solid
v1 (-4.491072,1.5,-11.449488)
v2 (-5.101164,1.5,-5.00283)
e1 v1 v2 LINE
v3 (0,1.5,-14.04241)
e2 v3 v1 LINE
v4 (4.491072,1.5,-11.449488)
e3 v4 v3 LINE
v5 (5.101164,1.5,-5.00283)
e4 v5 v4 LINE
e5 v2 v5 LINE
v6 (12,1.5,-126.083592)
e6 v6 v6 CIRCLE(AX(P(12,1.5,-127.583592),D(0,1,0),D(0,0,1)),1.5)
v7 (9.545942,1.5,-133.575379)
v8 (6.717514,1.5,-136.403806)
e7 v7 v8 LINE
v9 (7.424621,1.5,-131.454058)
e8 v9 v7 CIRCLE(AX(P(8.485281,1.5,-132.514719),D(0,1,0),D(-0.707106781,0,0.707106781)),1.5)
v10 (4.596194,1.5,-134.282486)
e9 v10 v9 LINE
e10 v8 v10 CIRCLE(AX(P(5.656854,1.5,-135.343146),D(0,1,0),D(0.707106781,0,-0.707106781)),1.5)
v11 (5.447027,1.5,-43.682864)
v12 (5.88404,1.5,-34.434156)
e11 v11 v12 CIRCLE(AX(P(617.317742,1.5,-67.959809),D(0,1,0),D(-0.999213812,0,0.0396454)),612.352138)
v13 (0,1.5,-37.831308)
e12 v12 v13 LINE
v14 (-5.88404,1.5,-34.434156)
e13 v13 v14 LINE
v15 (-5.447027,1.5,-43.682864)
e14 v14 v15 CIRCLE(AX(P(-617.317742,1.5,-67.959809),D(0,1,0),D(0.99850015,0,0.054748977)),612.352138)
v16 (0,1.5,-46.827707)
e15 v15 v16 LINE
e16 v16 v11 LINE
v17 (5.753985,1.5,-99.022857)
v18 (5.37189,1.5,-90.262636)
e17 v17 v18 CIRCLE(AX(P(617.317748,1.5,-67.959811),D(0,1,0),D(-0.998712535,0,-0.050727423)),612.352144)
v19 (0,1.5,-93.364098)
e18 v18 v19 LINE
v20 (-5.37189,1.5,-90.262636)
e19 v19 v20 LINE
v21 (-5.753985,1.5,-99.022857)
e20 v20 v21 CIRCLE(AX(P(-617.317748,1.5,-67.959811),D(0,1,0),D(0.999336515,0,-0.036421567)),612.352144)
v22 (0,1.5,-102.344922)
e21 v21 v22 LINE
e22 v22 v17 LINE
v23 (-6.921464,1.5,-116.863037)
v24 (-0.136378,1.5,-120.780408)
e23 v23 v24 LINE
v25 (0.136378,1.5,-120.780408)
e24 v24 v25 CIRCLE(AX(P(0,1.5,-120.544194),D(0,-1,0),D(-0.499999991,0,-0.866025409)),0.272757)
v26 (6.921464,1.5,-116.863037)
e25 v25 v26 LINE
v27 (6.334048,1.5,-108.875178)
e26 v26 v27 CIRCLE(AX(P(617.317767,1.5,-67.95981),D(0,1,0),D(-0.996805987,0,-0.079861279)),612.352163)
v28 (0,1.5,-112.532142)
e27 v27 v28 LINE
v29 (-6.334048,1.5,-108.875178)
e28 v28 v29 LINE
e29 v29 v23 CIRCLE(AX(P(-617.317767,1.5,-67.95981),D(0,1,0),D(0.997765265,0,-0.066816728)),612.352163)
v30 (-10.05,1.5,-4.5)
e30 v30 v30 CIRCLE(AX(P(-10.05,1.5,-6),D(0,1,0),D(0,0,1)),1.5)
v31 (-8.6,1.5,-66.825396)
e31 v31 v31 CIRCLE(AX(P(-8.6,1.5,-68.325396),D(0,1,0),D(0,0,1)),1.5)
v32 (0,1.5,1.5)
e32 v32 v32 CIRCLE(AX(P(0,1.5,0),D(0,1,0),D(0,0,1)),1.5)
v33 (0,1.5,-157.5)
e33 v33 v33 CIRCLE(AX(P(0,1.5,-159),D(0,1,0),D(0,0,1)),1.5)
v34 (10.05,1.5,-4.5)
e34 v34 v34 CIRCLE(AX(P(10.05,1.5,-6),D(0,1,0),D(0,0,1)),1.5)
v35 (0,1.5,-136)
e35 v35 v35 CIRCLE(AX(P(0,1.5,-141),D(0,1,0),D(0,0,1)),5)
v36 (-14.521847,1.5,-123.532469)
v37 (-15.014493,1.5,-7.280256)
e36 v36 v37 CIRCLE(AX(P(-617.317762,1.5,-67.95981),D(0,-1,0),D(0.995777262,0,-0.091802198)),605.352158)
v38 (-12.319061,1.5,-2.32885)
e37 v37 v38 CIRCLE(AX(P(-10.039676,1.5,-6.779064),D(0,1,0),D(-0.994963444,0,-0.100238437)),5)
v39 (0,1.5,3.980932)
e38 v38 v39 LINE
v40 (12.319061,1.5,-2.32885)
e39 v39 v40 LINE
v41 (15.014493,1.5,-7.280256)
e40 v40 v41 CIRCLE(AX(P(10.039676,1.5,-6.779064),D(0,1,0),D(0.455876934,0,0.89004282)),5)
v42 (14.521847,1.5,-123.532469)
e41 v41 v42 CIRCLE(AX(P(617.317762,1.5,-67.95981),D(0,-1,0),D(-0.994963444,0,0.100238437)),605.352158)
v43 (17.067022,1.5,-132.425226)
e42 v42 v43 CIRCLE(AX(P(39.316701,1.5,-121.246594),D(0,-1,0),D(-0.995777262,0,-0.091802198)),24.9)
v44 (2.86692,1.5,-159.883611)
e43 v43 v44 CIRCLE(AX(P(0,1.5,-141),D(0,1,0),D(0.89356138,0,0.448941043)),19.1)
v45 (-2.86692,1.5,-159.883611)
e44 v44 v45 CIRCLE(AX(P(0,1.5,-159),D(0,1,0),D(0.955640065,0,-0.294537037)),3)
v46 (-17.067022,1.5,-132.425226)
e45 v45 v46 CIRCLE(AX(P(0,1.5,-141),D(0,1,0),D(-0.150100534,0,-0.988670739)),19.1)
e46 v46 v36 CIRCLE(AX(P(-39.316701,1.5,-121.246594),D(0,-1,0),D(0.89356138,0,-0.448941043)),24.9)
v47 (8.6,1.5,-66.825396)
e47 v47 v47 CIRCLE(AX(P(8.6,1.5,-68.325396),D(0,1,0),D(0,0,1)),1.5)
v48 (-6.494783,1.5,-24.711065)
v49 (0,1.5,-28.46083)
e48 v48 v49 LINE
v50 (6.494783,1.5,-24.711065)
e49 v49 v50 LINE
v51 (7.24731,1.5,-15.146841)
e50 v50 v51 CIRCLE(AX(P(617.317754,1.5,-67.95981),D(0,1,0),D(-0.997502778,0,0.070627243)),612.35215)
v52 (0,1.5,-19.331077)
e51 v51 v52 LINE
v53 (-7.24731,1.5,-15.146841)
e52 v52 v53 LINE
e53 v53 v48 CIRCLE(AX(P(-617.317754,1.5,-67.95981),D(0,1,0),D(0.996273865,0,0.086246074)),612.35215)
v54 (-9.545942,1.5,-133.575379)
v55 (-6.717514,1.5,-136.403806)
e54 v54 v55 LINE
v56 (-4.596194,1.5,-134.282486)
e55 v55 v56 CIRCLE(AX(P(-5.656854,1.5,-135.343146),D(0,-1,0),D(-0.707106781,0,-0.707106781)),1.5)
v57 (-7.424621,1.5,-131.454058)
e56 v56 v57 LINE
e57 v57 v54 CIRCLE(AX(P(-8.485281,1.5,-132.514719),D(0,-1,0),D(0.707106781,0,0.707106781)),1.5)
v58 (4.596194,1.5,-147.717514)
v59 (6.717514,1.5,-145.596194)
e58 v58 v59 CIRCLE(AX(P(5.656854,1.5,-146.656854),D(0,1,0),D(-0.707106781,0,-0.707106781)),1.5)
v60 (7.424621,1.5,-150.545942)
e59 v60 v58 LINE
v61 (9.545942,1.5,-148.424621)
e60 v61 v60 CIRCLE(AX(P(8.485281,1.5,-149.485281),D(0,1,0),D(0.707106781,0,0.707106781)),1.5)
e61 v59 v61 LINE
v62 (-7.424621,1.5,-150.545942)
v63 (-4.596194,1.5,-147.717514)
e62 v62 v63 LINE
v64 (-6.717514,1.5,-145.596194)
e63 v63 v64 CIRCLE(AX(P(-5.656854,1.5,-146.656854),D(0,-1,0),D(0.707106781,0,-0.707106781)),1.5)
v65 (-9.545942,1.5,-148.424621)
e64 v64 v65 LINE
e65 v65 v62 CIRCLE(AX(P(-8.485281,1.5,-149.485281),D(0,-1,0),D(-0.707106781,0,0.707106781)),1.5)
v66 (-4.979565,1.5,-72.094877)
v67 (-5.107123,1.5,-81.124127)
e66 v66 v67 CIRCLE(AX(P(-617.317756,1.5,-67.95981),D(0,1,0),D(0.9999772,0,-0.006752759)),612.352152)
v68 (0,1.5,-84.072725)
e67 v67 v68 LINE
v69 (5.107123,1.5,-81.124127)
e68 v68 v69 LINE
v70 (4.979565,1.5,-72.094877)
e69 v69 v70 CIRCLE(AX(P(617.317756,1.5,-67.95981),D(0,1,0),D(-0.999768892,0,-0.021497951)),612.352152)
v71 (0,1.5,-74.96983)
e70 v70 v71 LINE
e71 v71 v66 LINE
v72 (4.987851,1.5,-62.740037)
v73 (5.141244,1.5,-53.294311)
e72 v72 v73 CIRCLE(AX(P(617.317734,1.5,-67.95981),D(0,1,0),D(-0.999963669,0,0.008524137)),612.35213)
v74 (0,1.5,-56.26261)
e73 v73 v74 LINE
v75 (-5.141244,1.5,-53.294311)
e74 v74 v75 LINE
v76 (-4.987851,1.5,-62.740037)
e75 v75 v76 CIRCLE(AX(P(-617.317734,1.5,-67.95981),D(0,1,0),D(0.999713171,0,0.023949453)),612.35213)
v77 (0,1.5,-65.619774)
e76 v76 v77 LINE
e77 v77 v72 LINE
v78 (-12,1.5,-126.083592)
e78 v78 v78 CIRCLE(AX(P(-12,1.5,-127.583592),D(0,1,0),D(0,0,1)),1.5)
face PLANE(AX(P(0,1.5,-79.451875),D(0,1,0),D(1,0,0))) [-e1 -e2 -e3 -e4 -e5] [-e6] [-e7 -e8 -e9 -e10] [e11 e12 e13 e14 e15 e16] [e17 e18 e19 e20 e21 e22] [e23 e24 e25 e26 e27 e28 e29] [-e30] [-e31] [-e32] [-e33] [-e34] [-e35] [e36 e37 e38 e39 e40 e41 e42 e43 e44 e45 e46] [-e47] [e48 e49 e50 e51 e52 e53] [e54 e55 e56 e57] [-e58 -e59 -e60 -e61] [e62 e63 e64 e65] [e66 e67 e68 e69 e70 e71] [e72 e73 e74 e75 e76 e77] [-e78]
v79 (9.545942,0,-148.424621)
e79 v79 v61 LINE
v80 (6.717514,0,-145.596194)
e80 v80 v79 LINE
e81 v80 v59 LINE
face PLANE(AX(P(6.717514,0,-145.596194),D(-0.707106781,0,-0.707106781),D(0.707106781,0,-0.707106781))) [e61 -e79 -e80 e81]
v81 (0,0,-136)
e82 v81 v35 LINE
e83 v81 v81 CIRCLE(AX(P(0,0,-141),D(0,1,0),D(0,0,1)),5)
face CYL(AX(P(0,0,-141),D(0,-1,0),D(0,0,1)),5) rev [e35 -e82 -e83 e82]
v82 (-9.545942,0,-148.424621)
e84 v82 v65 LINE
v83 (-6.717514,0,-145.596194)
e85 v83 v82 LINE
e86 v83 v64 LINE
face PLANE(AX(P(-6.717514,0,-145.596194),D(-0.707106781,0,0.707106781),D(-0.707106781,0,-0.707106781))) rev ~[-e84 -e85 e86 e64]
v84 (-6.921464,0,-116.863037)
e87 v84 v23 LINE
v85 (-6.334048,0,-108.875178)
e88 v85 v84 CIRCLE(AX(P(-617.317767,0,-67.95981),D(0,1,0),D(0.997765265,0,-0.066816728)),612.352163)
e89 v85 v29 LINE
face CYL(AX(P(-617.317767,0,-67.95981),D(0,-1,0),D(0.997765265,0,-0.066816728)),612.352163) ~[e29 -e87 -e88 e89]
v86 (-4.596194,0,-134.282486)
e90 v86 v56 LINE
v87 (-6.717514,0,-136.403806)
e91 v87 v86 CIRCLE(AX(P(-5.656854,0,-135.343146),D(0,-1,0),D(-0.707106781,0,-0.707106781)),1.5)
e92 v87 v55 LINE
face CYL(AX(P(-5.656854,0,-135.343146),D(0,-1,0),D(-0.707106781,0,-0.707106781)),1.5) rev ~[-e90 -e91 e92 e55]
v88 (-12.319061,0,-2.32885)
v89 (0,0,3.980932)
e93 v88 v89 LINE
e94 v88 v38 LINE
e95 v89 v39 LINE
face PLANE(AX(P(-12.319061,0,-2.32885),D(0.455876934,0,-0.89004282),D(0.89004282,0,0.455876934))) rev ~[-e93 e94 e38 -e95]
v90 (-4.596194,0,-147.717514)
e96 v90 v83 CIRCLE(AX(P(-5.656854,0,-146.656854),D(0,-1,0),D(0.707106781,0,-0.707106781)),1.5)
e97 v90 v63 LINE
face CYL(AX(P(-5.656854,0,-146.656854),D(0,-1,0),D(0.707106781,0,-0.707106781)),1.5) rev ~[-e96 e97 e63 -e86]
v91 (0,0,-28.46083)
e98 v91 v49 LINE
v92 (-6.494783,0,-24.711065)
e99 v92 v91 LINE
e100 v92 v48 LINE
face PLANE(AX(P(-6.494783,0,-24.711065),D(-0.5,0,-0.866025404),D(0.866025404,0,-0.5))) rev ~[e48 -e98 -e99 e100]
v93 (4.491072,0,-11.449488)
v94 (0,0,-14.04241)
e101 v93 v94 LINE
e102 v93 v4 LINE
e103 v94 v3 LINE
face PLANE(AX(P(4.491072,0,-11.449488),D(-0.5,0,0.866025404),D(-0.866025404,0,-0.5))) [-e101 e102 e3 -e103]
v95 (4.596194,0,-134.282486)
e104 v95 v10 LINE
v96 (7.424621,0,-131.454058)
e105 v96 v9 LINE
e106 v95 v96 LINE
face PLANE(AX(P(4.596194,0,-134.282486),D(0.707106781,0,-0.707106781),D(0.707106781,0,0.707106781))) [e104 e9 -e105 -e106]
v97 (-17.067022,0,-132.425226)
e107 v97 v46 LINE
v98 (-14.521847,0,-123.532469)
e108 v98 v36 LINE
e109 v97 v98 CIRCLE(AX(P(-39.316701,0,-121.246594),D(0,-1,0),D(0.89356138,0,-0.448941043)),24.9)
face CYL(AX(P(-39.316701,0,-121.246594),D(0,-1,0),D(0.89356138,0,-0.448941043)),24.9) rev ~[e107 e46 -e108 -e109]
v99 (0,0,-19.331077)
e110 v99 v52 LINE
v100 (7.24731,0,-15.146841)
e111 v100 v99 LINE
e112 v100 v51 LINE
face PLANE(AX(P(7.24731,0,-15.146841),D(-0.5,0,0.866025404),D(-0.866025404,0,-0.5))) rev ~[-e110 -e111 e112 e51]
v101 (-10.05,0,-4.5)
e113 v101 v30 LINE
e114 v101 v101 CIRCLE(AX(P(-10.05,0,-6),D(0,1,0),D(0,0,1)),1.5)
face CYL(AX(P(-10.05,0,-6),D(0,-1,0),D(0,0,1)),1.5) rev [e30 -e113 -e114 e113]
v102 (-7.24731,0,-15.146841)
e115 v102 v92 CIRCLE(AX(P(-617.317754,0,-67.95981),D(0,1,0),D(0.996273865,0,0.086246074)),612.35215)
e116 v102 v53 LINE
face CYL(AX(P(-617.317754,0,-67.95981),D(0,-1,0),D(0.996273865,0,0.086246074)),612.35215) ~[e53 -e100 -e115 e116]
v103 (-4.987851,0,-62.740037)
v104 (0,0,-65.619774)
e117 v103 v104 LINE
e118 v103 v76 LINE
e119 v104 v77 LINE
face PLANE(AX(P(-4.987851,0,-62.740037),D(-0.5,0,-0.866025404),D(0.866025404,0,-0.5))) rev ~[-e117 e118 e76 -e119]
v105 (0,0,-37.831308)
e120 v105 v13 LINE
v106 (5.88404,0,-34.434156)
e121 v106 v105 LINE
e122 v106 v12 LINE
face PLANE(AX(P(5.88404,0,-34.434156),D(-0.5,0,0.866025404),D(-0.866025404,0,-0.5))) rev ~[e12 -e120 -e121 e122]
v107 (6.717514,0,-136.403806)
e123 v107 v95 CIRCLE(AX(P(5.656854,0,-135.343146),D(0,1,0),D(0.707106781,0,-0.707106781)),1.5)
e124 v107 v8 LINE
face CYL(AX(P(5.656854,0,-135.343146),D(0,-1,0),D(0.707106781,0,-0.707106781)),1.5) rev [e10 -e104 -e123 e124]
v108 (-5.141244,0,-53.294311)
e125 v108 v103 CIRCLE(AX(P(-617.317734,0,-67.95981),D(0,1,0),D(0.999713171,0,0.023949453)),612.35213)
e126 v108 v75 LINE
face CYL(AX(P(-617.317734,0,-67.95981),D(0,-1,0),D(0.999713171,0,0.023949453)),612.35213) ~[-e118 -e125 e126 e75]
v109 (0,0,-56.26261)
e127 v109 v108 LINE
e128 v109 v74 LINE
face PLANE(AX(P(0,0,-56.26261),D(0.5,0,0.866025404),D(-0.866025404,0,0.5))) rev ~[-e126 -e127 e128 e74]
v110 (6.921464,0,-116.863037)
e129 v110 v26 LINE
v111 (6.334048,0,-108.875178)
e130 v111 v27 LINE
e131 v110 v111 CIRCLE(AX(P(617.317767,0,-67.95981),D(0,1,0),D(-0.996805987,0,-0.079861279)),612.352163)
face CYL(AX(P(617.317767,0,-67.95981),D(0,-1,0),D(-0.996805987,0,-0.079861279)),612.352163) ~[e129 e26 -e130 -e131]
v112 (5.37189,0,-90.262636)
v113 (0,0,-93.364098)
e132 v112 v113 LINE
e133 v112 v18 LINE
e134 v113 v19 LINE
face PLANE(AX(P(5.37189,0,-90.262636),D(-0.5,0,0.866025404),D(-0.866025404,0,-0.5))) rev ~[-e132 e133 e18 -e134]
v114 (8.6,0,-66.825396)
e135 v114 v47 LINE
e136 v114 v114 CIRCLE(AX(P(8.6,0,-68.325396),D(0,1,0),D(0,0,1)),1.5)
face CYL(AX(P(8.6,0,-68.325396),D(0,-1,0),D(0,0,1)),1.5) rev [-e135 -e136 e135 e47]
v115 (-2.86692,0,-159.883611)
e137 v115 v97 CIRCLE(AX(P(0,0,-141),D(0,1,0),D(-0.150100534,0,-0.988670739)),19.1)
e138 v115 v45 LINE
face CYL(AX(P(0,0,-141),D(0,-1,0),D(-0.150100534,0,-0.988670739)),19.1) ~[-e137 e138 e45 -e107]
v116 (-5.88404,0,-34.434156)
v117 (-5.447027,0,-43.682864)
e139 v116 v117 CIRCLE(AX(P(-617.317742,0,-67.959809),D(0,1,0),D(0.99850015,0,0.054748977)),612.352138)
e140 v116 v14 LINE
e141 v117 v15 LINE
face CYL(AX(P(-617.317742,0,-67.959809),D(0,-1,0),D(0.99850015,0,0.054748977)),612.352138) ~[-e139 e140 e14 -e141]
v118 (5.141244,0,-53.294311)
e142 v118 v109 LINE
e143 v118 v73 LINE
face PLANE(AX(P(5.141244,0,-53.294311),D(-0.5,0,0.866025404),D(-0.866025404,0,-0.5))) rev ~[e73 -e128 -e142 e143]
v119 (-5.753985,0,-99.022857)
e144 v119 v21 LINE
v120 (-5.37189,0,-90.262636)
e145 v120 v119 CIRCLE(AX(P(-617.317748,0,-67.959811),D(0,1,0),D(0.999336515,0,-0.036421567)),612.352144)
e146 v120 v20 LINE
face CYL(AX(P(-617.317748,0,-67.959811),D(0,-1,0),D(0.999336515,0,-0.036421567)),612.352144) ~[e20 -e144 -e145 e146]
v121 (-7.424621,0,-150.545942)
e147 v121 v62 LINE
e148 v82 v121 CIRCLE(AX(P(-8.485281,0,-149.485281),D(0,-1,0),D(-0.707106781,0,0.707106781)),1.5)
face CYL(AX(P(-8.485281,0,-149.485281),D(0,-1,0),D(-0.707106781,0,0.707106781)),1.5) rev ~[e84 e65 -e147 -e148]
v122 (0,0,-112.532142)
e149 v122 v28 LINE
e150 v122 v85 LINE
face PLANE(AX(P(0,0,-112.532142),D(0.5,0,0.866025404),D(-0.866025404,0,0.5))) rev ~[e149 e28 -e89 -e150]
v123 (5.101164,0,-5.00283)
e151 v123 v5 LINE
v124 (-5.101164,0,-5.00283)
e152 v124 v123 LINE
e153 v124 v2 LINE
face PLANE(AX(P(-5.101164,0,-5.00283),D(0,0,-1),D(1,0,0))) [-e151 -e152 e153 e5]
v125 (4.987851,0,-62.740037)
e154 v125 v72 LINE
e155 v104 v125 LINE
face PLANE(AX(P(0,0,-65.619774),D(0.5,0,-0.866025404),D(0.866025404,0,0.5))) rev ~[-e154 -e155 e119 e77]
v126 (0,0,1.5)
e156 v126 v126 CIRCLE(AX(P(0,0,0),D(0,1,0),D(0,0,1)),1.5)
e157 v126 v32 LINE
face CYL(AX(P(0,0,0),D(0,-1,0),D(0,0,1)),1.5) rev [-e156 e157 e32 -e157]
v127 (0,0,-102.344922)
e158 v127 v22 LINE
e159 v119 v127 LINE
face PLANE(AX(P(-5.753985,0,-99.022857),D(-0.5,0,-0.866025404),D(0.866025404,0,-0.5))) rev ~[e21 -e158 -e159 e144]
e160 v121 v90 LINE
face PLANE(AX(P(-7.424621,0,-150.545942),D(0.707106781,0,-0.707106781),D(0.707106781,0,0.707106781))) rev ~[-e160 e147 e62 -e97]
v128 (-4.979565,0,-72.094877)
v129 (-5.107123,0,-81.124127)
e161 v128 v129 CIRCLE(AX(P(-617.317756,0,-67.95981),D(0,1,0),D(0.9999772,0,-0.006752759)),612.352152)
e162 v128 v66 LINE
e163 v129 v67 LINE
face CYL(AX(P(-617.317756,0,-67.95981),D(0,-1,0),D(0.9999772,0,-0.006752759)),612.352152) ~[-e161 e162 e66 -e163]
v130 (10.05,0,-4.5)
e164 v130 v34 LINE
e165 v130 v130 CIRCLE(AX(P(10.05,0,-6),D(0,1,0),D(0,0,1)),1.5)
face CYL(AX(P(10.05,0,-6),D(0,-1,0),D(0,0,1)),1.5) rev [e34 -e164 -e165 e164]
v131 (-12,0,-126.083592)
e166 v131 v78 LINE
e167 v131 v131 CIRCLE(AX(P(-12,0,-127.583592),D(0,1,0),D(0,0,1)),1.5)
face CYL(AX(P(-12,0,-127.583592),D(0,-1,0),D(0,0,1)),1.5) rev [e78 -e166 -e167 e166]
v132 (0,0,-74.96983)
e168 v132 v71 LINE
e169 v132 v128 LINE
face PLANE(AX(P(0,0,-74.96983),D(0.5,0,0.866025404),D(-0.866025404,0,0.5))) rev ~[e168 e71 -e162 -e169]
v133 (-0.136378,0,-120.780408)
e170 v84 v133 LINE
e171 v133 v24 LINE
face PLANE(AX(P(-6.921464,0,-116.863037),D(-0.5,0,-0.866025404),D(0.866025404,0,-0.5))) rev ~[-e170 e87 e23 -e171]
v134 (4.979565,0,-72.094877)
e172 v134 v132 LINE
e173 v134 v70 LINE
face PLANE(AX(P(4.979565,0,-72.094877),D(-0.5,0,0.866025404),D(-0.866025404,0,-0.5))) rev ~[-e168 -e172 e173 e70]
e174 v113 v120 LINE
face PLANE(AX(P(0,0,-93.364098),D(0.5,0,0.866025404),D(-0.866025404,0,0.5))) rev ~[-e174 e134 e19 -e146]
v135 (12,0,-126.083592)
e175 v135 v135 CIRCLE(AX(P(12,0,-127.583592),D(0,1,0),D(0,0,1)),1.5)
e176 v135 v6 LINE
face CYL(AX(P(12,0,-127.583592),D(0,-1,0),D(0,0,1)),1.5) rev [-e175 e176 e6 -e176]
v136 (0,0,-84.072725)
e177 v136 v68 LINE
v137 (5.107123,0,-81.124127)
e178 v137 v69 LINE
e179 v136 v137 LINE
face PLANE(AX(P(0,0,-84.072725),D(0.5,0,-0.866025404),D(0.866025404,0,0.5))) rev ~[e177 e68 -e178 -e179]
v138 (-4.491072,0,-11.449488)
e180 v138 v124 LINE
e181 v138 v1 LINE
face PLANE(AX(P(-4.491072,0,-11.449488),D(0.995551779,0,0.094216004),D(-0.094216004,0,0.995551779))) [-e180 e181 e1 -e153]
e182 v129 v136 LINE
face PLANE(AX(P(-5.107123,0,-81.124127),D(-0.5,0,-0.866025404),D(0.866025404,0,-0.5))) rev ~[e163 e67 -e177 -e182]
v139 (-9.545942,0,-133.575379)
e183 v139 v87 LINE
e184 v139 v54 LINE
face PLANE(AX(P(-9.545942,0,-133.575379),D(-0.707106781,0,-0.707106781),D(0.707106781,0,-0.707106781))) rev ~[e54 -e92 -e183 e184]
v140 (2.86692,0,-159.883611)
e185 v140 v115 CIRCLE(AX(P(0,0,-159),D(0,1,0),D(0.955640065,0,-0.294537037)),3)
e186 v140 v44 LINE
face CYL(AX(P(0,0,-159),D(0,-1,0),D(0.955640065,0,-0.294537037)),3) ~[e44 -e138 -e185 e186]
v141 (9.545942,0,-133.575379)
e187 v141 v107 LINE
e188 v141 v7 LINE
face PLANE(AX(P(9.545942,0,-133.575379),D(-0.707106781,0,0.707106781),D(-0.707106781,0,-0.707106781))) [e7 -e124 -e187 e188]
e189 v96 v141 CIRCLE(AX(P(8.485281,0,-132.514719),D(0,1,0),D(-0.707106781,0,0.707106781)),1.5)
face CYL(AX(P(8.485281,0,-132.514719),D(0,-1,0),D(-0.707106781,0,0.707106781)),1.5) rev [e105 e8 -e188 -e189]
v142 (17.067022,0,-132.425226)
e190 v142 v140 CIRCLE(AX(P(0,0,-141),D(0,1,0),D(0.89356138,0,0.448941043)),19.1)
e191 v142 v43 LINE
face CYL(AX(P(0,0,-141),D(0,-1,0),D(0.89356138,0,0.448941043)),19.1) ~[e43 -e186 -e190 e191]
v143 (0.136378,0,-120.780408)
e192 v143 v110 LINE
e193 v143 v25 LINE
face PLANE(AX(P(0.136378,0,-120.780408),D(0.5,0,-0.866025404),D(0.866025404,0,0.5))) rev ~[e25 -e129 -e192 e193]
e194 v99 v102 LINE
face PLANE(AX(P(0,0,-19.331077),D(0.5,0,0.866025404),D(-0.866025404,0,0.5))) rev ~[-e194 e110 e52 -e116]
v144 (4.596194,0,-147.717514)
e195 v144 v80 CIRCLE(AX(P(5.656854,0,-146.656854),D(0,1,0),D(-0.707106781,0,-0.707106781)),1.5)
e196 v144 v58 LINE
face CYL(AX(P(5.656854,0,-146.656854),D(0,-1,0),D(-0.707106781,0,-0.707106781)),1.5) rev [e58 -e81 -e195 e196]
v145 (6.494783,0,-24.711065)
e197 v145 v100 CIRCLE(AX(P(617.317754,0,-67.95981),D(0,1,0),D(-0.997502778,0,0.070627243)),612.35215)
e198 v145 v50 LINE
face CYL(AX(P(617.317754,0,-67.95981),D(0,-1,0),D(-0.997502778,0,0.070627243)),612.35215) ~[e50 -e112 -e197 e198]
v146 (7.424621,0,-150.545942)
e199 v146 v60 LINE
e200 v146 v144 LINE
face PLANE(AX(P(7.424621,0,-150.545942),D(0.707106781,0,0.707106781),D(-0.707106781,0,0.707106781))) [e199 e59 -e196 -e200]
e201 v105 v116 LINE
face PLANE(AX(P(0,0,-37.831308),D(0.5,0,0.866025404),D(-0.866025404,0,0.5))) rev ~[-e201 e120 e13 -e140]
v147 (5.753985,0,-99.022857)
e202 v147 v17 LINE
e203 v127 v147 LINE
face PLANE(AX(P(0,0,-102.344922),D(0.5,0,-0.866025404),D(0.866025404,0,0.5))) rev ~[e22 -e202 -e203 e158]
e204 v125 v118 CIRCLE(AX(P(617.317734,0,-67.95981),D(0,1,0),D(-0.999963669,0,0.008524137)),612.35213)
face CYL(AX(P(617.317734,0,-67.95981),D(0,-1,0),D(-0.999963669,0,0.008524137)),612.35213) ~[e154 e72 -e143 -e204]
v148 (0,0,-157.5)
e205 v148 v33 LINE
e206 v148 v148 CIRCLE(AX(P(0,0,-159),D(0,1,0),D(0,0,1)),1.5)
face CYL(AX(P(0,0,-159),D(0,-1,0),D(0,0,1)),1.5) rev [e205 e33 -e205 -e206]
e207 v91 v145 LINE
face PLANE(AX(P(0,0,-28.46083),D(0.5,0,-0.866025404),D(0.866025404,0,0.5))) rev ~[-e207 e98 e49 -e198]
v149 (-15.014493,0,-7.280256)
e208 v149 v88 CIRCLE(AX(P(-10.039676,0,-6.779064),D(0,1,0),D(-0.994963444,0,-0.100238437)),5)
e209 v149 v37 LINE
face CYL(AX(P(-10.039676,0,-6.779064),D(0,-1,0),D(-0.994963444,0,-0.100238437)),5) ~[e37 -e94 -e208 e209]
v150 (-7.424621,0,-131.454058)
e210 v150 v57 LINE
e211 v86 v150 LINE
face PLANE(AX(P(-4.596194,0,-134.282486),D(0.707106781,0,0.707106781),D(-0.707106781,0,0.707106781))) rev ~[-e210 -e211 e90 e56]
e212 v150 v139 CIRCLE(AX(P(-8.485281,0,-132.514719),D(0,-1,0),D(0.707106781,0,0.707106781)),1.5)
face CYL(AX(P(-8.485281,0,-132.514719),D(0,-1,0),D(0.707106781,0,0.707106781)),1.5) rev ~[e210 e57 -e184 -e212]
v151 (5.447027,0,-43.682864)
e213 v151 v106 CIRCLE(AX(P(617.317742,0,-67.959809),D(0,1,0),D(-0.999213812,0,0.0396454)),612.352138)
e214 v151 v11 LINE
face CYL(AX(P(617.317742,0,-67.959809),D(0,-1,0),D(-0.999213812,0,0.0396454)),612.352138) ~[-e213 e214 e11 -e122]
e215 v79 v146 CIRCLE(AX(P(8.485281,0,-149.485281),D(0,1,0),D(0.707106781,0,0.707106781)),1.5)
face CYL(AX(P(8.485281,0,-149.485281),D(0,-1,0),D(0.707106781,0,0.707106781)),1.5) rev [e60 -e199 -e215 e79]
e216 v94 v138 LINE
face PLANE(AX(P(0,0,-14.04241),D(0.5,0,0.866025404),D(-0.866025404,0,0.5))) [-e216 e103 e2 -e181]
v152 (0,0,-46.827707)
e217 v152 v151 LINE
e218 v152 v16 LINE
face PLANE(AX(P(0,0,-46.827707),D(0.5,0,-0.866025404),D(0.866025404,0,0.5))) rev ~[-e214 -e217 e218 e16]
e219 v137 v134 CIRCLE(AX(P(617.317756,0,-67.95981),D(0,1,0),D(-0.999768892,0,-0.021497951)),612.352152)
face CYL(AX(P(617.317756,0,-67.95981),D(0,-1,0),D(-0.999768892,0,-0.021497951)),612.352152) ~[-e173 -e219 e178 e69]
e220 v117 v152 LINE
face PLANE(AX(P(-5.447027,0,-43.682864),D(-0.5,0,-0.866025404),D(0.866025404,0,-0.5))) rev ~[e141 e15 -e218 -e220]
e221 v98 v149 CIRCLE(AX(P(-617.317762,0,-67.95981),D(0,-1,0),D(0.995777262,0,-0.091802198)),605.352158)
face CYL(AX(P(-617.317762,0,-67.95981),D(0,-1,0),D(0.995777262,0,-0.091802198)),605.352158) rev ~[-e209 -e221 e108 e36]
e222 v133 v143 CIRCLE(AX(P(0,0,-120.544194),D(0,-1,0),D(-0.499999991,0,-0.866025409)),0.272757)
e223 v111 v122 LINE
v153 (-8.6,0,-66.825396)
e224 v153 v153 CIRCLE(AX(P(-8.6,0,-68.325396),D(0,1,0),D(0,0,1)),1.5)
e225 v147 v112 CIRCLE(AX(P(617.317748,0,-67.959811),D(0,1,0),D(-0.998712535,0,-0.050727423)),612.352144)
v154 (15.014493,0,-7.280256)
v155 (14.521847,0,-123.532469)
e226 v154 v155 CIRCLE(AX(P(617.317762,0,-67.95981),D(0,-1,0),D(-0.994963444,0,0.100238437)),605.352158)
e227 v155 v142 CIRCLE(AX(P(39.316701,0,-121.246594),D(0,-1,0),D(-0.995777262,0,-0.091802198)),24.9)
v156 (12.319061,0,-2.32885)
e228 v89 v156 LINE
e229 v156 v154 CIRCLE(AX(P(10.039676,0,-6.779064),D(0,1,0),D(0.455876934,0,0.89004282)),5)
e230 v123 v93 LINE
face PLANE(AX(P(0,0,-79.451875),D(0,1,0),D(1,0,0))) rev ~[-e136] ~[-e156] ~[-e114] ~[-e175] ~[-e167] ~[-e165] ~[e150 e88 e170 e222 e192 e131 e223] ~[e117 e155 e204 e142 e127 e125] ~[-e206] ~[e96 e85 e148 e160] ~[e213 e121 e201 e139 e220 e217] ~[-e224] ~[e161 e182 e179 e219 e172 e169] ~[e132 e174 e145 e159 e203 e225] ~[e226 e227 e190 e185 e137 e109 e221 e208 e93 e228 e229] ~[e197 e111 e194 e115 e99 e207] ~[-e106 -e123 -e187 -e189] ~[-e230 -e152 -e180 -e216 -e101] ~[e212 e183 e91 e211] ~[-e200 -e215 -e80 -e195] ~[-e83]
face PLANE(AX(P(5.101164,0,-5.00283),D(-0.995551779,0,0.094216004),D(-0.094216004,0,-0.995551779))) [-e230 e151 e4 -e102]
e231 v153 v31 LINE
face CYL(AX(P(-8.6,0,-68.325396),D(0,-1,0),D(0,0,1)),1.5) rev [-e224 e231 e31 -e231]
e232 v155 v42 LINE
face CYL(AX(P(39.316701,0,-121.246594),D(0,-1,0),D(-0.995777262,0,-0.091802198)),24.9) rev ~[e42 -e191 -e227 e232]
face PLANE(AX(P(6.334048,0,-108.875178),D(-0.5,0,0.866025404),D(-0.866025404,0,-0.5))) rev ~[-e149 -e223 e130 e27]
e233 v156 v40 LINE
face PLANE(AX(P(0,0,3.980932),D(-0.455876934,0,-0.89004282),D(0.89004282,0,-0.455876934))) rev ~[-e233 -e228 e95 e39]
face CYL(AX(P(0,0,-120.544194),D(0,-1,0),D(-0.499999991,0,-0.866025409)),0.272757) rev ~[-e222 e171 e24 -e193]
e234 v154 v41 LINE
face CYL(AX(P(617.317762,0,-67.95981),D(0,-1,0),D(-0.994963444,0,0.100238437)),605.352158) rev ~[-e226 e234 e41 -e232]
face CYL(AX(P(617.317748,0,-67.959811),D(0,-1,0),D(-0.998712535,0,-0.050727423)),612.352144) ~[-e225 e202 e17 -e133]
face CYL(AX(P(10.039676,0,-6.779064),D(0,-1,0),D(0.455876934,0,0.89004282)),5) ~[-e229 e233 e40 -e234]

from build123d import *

# Parameters (mm, degrees)
SKETCH_1_R      = 1.5
SKETCH_1_R_2    = 5
EXTRUDE_1_DEPTH = 1.5


with BuildPart() as part:
    # 草圖1 → 填料-伸長1 (new body)
    with BuildSketch(Plane(origin=(0, 0, 0), x_dir=(1, 0, 0), z_dir=(0, 1, 0))):
        with BuildLine():
            Line((0, -3.980931511), (12.319060855, 2.328849967))
            ThreePointArc((12.319060855, 2.328849967), (14.431141465, 4.388450613), (15.014493405, 7.28025625))
            ThreePointArc((15.014493405, 7.28025625), (11.971039141, 65.394509034), (14.52184689, 123.53246884))
            ThreePointArc((14.52184689, 123.53246884), (15.377876917, 128.098069479), (17.067022361, 132.425226083))
            ThreePointArc((17.067022361, 132.425226083), (16.965589985, 149.77375384), (2.866920195, 159.883611111))
            ThreePointArc((2.866920195, 159.883611111), (0, 162), (-2.866920195, 159.883611111))
            ThreePointArc((-2.866920195, 159.883611111), (-16.965589985, 149.77375384), (-17.067022361, 132.425226083))
            ThreePointArc((-17.067022361, 132.425226083), (-15.377876917, 128.098069479), (-14.52184689, 123.53246884))
            ThreePointArc((-14.52184689, 123.53246884), (-11.971039141, 65.394509034), (-15.014493405, 7.28025625))
            ThreePointArc((-15.014493405, 7.28025625), (-14.431141465, 4.388450613), (-12.319060855, 2.328849967))
            Line((-12.319060855, 2.328849967), (0, -3.980931511))
        make_face()
        with Locations(Location((-12, 127.583592135, 0), (0, 0, 270))):
            Circle(SKETCH_1_R, mode=Mode.SUBTRACT)
        with Locations(Location((12, 127.583592135, 0), (0, 0, 270))):
            Circle(SKETCH_1_R, mode=Mode.SUBTRACT)
        with Locations(Location((8.6, 68.325395665, 0), (0, 0, 270))):
            Circle(SKETCH_1_R, mode=Mode.SUBTRACT)
        with Locations(Location((-8.6, 68.325395665, 0), (0, 0, 270))):
            Circle(SKETCH_1_R, mode=Mode.SUBTRACT)
        with Locations(Location((10.05, 6, 0), (0, 0, 270))):
            Circle(SKETCH_1_R, mode=Mode.SUBTRACT)
        with Locations(Location((-10.05, 6, 0), (0, 0, 270))):
            Circle(SKETCH_1_R, mode=Mode.SUBTRACT)
        with Locations(Location((0, 159, 0), (0, 0, 270))):
            Circle(SKETCH_1_R, mode=Mode.SUBTRACT)
        with Locations(Location((0, 0, 0), (0, 0, 270))):
            Circle(SKETCH_1_R, mode=Mode.SUBTRACT)
        with Locations(Location((0, 141, 0), (0, 0, 270))):
            Circle(SKETCH_1_R_2, mode=Mode.SUBTRACT)
        Polygon((0, 14.042409585), (-4.491071946, 11.449487988), (-5.101164168, 5.002829556), (5.101164168, 5.002829556), (4.491071946, 11.449487988), align=None, mode=Mode.SUBTRACT)
        with BuildLine():
            Line((0, 112.532142135), (-6.334048162, 108.875177723))
            ThreePointArc((-6.334048162, 108.875177723), (-6.614696141, 112.870067669), (-6.92146425, 116.863036776))
            Line((-6.92146425, 116.863036776), (-0.136378432, 120.780407899))
            ThreePointArc((-0.136378432, 120.780407899), (0, 120.816950389), (0.136378432, 120.780407899))
            Line((0.136378432, 120.780407899), (6.92146425, 116.863036776))
            ThreePointArc((6.92146425, 116.863036776), (6.614696141, 112.870067669), (6.334048162, 108.875177723))
            Line((6.334048162, 108.875177723), (0, 112.532142135))
        make_face(mode=Mode.SUBTRACT)
        with BuildLine():
            Line((0, 102.344922167), (5.753985291, 99.02285721))
            ThreePointArc((5.753985291, 99.02285721), (5.547257407, 94.643430297), (5.371890331, 90.262635518))
            Line((5.371890331, 90.262635518), (0, 93.364097846))
            Line((0, 93.364097846), (-5.371890331, 90.262635518))
            ThreePointArc((-5.371890331, 90.262635518), (-5.547257407, 94.643430297), (-5.753985291, 99.02285721))
            Line((-5.753985291, 99.02285721), (0, 102.344922167))
        make_face(mode=Mode.SUBTRACT)
        with BuildLine():
            Line((0, 84.072725452), (5.10712289, 81.124126676))
            ThreePointArc((5.10712289, 81.124126676), (5.026699976, 76.609736924), (4.97956534, 72.094876904))
            Line((4.97956534, 72.094876904), (0, 74.969830293))
            Line((0, 74.969830293), (-4.97956534, 72.094876904))
            ThreePointArc((-4.97956534, 72.094876904), (-5.026699976, 76.609736924), (-5.10712289, 81.124126676))
            Line((-5.10712289, 81.124126676), (0, 84.072725452))
        make_face(mode=Mode.SUBTRACT)
        with BuildLine():
            Line((0, 65.619773758), (4.987851065, 62.740036603))
            ThreePointArc((4.987851065, 62.740036603), (5.046332025, 58.016878131), (5.141244155, 53.29431128))
            Line((5.141244155, 53.29431128), (0, 56.262609977))
            Line((0, 56.262609977), (-5.141244155, 53.29431128))
            ThreePointArc((-5.141244155, 53.29431128), (-5.046332025, 58.016878131), (-4.987851065, 62.740036603))
            Line((-4.987851065, 62.740036603), (0, 65.619773758))
        make_face(mode=Mode.SUBTRACT)
        with BuildLine():
            Line((0, 46.827706802), (5.447027498, 43.68286401))
            ThreePointArc((5.447027498, 43.68286401), (5.648052955, 39.057684109), (5.884040018, 34.434156186))
            Line((5.884040018, 34.434156186), (0, 37.831308275))
            Line((0, 37.831308275), (-5.884040018, 34.434156186))
            ThreePointArc((-5.884040018, 34.434156186), (-5.648052955, 39.057684109), (-5.447027498, 43.68286401))
            Line((-5.447027498, 43.68286401), (0, 46.827706802))
        make_face(mode=Mode.SUBTRACT)
        with BuildLine():
            Line((0, 28.460830008), (6.494782795, 24.711065414))
            ThreePointArc((6.494782795, 24.711065414), (6.852315766, 19.927479382), (7.247310233, 15.146840877))
            Line((7.247310233, 15.146840877), (0, 19.331077391))
            Line((0, 19.331077391), (-7.247310233, 15.146840877))
            ThreePointArc((-7.247310233, 15.146840877), (-6.852315766, 19.927479382), (-6.494782795, 24.711065414))
            Line((-6.494782795, 24.711065414), (0, 28.460830008))
        make_face(mode=Mode.SUBTRACT)
        with BuildLine():
            Line((-6.717514421, 145.596194078), (-9.545941546, 148.424621202))
            ThreePointArc((-9.545941546, 148.424621202), (-9.545941546, 150.545941546), (-7.424621202, 150.545941546))
            Line((-7.424621202, 150.545941546), (-4.596194078, 147.717514421))
            ThreePointArc((-4.596194078, 147.717514421), (-4.596194078, 145.596194078), (-6.717514421, 145.596194078))
        make_face(mode=Mode.SUBTRACT)
        with BuildLine():
            Line((6.717514421, 145.596194078), (9.545941546, 148.424621202))
            ThreePointArc((9.545941546, 148.424621202), (9.545941546, 150.545941546), (7.424621202, 150.545941546))
            Line((7.424621202, 150.545941546), (4.596194078, 147.717514421))
            ThreePointArc((4.596194078, 147.717514421), (4.596194078, 145.596194078), (6.717514421, 145.596194078))
        make_face(mode=Mode.SUBTRACT)
        with BuildLine():
            Line((-4.596194078, 134.282485579), (-7.424621202, 131.454058454))
            ThreePointArc((-7.424621202, 131.454058454), (-9.545941546, 131.454058454), (-9.545941546, 133.575378798))
            Line((-9.545941546, 133.575378798), (-6.717514421, 136.403805922))
            ThreePointArc((-6.717514421, 136.403805922), (-4.596194078, 136.403805922), (-4.596194078, 134.282485579))
        make_face(mode=Mode.SUBTRACT)
        with BuildLine():
            Line((4.596194078, 134.282485579), (7.424621202, 131.454058454))
            ThreePointArc((7.424621202, 131.454058454), (9.545941546, 131.454058454), (9.545941546, 133.575378798))
            Line((9.545941546, 133.575378798), (6.717514421, 136.403805922))
            ThreePointArc((6.717514421, 136.403805922), (4.596194078, 136.403805922), (4.596194078, 134.282485579))
        make_face(mode=Mode.SUBTRACT)
    extrude(amount=EXTRUDE_1_DEPTH)


solid = part.part
